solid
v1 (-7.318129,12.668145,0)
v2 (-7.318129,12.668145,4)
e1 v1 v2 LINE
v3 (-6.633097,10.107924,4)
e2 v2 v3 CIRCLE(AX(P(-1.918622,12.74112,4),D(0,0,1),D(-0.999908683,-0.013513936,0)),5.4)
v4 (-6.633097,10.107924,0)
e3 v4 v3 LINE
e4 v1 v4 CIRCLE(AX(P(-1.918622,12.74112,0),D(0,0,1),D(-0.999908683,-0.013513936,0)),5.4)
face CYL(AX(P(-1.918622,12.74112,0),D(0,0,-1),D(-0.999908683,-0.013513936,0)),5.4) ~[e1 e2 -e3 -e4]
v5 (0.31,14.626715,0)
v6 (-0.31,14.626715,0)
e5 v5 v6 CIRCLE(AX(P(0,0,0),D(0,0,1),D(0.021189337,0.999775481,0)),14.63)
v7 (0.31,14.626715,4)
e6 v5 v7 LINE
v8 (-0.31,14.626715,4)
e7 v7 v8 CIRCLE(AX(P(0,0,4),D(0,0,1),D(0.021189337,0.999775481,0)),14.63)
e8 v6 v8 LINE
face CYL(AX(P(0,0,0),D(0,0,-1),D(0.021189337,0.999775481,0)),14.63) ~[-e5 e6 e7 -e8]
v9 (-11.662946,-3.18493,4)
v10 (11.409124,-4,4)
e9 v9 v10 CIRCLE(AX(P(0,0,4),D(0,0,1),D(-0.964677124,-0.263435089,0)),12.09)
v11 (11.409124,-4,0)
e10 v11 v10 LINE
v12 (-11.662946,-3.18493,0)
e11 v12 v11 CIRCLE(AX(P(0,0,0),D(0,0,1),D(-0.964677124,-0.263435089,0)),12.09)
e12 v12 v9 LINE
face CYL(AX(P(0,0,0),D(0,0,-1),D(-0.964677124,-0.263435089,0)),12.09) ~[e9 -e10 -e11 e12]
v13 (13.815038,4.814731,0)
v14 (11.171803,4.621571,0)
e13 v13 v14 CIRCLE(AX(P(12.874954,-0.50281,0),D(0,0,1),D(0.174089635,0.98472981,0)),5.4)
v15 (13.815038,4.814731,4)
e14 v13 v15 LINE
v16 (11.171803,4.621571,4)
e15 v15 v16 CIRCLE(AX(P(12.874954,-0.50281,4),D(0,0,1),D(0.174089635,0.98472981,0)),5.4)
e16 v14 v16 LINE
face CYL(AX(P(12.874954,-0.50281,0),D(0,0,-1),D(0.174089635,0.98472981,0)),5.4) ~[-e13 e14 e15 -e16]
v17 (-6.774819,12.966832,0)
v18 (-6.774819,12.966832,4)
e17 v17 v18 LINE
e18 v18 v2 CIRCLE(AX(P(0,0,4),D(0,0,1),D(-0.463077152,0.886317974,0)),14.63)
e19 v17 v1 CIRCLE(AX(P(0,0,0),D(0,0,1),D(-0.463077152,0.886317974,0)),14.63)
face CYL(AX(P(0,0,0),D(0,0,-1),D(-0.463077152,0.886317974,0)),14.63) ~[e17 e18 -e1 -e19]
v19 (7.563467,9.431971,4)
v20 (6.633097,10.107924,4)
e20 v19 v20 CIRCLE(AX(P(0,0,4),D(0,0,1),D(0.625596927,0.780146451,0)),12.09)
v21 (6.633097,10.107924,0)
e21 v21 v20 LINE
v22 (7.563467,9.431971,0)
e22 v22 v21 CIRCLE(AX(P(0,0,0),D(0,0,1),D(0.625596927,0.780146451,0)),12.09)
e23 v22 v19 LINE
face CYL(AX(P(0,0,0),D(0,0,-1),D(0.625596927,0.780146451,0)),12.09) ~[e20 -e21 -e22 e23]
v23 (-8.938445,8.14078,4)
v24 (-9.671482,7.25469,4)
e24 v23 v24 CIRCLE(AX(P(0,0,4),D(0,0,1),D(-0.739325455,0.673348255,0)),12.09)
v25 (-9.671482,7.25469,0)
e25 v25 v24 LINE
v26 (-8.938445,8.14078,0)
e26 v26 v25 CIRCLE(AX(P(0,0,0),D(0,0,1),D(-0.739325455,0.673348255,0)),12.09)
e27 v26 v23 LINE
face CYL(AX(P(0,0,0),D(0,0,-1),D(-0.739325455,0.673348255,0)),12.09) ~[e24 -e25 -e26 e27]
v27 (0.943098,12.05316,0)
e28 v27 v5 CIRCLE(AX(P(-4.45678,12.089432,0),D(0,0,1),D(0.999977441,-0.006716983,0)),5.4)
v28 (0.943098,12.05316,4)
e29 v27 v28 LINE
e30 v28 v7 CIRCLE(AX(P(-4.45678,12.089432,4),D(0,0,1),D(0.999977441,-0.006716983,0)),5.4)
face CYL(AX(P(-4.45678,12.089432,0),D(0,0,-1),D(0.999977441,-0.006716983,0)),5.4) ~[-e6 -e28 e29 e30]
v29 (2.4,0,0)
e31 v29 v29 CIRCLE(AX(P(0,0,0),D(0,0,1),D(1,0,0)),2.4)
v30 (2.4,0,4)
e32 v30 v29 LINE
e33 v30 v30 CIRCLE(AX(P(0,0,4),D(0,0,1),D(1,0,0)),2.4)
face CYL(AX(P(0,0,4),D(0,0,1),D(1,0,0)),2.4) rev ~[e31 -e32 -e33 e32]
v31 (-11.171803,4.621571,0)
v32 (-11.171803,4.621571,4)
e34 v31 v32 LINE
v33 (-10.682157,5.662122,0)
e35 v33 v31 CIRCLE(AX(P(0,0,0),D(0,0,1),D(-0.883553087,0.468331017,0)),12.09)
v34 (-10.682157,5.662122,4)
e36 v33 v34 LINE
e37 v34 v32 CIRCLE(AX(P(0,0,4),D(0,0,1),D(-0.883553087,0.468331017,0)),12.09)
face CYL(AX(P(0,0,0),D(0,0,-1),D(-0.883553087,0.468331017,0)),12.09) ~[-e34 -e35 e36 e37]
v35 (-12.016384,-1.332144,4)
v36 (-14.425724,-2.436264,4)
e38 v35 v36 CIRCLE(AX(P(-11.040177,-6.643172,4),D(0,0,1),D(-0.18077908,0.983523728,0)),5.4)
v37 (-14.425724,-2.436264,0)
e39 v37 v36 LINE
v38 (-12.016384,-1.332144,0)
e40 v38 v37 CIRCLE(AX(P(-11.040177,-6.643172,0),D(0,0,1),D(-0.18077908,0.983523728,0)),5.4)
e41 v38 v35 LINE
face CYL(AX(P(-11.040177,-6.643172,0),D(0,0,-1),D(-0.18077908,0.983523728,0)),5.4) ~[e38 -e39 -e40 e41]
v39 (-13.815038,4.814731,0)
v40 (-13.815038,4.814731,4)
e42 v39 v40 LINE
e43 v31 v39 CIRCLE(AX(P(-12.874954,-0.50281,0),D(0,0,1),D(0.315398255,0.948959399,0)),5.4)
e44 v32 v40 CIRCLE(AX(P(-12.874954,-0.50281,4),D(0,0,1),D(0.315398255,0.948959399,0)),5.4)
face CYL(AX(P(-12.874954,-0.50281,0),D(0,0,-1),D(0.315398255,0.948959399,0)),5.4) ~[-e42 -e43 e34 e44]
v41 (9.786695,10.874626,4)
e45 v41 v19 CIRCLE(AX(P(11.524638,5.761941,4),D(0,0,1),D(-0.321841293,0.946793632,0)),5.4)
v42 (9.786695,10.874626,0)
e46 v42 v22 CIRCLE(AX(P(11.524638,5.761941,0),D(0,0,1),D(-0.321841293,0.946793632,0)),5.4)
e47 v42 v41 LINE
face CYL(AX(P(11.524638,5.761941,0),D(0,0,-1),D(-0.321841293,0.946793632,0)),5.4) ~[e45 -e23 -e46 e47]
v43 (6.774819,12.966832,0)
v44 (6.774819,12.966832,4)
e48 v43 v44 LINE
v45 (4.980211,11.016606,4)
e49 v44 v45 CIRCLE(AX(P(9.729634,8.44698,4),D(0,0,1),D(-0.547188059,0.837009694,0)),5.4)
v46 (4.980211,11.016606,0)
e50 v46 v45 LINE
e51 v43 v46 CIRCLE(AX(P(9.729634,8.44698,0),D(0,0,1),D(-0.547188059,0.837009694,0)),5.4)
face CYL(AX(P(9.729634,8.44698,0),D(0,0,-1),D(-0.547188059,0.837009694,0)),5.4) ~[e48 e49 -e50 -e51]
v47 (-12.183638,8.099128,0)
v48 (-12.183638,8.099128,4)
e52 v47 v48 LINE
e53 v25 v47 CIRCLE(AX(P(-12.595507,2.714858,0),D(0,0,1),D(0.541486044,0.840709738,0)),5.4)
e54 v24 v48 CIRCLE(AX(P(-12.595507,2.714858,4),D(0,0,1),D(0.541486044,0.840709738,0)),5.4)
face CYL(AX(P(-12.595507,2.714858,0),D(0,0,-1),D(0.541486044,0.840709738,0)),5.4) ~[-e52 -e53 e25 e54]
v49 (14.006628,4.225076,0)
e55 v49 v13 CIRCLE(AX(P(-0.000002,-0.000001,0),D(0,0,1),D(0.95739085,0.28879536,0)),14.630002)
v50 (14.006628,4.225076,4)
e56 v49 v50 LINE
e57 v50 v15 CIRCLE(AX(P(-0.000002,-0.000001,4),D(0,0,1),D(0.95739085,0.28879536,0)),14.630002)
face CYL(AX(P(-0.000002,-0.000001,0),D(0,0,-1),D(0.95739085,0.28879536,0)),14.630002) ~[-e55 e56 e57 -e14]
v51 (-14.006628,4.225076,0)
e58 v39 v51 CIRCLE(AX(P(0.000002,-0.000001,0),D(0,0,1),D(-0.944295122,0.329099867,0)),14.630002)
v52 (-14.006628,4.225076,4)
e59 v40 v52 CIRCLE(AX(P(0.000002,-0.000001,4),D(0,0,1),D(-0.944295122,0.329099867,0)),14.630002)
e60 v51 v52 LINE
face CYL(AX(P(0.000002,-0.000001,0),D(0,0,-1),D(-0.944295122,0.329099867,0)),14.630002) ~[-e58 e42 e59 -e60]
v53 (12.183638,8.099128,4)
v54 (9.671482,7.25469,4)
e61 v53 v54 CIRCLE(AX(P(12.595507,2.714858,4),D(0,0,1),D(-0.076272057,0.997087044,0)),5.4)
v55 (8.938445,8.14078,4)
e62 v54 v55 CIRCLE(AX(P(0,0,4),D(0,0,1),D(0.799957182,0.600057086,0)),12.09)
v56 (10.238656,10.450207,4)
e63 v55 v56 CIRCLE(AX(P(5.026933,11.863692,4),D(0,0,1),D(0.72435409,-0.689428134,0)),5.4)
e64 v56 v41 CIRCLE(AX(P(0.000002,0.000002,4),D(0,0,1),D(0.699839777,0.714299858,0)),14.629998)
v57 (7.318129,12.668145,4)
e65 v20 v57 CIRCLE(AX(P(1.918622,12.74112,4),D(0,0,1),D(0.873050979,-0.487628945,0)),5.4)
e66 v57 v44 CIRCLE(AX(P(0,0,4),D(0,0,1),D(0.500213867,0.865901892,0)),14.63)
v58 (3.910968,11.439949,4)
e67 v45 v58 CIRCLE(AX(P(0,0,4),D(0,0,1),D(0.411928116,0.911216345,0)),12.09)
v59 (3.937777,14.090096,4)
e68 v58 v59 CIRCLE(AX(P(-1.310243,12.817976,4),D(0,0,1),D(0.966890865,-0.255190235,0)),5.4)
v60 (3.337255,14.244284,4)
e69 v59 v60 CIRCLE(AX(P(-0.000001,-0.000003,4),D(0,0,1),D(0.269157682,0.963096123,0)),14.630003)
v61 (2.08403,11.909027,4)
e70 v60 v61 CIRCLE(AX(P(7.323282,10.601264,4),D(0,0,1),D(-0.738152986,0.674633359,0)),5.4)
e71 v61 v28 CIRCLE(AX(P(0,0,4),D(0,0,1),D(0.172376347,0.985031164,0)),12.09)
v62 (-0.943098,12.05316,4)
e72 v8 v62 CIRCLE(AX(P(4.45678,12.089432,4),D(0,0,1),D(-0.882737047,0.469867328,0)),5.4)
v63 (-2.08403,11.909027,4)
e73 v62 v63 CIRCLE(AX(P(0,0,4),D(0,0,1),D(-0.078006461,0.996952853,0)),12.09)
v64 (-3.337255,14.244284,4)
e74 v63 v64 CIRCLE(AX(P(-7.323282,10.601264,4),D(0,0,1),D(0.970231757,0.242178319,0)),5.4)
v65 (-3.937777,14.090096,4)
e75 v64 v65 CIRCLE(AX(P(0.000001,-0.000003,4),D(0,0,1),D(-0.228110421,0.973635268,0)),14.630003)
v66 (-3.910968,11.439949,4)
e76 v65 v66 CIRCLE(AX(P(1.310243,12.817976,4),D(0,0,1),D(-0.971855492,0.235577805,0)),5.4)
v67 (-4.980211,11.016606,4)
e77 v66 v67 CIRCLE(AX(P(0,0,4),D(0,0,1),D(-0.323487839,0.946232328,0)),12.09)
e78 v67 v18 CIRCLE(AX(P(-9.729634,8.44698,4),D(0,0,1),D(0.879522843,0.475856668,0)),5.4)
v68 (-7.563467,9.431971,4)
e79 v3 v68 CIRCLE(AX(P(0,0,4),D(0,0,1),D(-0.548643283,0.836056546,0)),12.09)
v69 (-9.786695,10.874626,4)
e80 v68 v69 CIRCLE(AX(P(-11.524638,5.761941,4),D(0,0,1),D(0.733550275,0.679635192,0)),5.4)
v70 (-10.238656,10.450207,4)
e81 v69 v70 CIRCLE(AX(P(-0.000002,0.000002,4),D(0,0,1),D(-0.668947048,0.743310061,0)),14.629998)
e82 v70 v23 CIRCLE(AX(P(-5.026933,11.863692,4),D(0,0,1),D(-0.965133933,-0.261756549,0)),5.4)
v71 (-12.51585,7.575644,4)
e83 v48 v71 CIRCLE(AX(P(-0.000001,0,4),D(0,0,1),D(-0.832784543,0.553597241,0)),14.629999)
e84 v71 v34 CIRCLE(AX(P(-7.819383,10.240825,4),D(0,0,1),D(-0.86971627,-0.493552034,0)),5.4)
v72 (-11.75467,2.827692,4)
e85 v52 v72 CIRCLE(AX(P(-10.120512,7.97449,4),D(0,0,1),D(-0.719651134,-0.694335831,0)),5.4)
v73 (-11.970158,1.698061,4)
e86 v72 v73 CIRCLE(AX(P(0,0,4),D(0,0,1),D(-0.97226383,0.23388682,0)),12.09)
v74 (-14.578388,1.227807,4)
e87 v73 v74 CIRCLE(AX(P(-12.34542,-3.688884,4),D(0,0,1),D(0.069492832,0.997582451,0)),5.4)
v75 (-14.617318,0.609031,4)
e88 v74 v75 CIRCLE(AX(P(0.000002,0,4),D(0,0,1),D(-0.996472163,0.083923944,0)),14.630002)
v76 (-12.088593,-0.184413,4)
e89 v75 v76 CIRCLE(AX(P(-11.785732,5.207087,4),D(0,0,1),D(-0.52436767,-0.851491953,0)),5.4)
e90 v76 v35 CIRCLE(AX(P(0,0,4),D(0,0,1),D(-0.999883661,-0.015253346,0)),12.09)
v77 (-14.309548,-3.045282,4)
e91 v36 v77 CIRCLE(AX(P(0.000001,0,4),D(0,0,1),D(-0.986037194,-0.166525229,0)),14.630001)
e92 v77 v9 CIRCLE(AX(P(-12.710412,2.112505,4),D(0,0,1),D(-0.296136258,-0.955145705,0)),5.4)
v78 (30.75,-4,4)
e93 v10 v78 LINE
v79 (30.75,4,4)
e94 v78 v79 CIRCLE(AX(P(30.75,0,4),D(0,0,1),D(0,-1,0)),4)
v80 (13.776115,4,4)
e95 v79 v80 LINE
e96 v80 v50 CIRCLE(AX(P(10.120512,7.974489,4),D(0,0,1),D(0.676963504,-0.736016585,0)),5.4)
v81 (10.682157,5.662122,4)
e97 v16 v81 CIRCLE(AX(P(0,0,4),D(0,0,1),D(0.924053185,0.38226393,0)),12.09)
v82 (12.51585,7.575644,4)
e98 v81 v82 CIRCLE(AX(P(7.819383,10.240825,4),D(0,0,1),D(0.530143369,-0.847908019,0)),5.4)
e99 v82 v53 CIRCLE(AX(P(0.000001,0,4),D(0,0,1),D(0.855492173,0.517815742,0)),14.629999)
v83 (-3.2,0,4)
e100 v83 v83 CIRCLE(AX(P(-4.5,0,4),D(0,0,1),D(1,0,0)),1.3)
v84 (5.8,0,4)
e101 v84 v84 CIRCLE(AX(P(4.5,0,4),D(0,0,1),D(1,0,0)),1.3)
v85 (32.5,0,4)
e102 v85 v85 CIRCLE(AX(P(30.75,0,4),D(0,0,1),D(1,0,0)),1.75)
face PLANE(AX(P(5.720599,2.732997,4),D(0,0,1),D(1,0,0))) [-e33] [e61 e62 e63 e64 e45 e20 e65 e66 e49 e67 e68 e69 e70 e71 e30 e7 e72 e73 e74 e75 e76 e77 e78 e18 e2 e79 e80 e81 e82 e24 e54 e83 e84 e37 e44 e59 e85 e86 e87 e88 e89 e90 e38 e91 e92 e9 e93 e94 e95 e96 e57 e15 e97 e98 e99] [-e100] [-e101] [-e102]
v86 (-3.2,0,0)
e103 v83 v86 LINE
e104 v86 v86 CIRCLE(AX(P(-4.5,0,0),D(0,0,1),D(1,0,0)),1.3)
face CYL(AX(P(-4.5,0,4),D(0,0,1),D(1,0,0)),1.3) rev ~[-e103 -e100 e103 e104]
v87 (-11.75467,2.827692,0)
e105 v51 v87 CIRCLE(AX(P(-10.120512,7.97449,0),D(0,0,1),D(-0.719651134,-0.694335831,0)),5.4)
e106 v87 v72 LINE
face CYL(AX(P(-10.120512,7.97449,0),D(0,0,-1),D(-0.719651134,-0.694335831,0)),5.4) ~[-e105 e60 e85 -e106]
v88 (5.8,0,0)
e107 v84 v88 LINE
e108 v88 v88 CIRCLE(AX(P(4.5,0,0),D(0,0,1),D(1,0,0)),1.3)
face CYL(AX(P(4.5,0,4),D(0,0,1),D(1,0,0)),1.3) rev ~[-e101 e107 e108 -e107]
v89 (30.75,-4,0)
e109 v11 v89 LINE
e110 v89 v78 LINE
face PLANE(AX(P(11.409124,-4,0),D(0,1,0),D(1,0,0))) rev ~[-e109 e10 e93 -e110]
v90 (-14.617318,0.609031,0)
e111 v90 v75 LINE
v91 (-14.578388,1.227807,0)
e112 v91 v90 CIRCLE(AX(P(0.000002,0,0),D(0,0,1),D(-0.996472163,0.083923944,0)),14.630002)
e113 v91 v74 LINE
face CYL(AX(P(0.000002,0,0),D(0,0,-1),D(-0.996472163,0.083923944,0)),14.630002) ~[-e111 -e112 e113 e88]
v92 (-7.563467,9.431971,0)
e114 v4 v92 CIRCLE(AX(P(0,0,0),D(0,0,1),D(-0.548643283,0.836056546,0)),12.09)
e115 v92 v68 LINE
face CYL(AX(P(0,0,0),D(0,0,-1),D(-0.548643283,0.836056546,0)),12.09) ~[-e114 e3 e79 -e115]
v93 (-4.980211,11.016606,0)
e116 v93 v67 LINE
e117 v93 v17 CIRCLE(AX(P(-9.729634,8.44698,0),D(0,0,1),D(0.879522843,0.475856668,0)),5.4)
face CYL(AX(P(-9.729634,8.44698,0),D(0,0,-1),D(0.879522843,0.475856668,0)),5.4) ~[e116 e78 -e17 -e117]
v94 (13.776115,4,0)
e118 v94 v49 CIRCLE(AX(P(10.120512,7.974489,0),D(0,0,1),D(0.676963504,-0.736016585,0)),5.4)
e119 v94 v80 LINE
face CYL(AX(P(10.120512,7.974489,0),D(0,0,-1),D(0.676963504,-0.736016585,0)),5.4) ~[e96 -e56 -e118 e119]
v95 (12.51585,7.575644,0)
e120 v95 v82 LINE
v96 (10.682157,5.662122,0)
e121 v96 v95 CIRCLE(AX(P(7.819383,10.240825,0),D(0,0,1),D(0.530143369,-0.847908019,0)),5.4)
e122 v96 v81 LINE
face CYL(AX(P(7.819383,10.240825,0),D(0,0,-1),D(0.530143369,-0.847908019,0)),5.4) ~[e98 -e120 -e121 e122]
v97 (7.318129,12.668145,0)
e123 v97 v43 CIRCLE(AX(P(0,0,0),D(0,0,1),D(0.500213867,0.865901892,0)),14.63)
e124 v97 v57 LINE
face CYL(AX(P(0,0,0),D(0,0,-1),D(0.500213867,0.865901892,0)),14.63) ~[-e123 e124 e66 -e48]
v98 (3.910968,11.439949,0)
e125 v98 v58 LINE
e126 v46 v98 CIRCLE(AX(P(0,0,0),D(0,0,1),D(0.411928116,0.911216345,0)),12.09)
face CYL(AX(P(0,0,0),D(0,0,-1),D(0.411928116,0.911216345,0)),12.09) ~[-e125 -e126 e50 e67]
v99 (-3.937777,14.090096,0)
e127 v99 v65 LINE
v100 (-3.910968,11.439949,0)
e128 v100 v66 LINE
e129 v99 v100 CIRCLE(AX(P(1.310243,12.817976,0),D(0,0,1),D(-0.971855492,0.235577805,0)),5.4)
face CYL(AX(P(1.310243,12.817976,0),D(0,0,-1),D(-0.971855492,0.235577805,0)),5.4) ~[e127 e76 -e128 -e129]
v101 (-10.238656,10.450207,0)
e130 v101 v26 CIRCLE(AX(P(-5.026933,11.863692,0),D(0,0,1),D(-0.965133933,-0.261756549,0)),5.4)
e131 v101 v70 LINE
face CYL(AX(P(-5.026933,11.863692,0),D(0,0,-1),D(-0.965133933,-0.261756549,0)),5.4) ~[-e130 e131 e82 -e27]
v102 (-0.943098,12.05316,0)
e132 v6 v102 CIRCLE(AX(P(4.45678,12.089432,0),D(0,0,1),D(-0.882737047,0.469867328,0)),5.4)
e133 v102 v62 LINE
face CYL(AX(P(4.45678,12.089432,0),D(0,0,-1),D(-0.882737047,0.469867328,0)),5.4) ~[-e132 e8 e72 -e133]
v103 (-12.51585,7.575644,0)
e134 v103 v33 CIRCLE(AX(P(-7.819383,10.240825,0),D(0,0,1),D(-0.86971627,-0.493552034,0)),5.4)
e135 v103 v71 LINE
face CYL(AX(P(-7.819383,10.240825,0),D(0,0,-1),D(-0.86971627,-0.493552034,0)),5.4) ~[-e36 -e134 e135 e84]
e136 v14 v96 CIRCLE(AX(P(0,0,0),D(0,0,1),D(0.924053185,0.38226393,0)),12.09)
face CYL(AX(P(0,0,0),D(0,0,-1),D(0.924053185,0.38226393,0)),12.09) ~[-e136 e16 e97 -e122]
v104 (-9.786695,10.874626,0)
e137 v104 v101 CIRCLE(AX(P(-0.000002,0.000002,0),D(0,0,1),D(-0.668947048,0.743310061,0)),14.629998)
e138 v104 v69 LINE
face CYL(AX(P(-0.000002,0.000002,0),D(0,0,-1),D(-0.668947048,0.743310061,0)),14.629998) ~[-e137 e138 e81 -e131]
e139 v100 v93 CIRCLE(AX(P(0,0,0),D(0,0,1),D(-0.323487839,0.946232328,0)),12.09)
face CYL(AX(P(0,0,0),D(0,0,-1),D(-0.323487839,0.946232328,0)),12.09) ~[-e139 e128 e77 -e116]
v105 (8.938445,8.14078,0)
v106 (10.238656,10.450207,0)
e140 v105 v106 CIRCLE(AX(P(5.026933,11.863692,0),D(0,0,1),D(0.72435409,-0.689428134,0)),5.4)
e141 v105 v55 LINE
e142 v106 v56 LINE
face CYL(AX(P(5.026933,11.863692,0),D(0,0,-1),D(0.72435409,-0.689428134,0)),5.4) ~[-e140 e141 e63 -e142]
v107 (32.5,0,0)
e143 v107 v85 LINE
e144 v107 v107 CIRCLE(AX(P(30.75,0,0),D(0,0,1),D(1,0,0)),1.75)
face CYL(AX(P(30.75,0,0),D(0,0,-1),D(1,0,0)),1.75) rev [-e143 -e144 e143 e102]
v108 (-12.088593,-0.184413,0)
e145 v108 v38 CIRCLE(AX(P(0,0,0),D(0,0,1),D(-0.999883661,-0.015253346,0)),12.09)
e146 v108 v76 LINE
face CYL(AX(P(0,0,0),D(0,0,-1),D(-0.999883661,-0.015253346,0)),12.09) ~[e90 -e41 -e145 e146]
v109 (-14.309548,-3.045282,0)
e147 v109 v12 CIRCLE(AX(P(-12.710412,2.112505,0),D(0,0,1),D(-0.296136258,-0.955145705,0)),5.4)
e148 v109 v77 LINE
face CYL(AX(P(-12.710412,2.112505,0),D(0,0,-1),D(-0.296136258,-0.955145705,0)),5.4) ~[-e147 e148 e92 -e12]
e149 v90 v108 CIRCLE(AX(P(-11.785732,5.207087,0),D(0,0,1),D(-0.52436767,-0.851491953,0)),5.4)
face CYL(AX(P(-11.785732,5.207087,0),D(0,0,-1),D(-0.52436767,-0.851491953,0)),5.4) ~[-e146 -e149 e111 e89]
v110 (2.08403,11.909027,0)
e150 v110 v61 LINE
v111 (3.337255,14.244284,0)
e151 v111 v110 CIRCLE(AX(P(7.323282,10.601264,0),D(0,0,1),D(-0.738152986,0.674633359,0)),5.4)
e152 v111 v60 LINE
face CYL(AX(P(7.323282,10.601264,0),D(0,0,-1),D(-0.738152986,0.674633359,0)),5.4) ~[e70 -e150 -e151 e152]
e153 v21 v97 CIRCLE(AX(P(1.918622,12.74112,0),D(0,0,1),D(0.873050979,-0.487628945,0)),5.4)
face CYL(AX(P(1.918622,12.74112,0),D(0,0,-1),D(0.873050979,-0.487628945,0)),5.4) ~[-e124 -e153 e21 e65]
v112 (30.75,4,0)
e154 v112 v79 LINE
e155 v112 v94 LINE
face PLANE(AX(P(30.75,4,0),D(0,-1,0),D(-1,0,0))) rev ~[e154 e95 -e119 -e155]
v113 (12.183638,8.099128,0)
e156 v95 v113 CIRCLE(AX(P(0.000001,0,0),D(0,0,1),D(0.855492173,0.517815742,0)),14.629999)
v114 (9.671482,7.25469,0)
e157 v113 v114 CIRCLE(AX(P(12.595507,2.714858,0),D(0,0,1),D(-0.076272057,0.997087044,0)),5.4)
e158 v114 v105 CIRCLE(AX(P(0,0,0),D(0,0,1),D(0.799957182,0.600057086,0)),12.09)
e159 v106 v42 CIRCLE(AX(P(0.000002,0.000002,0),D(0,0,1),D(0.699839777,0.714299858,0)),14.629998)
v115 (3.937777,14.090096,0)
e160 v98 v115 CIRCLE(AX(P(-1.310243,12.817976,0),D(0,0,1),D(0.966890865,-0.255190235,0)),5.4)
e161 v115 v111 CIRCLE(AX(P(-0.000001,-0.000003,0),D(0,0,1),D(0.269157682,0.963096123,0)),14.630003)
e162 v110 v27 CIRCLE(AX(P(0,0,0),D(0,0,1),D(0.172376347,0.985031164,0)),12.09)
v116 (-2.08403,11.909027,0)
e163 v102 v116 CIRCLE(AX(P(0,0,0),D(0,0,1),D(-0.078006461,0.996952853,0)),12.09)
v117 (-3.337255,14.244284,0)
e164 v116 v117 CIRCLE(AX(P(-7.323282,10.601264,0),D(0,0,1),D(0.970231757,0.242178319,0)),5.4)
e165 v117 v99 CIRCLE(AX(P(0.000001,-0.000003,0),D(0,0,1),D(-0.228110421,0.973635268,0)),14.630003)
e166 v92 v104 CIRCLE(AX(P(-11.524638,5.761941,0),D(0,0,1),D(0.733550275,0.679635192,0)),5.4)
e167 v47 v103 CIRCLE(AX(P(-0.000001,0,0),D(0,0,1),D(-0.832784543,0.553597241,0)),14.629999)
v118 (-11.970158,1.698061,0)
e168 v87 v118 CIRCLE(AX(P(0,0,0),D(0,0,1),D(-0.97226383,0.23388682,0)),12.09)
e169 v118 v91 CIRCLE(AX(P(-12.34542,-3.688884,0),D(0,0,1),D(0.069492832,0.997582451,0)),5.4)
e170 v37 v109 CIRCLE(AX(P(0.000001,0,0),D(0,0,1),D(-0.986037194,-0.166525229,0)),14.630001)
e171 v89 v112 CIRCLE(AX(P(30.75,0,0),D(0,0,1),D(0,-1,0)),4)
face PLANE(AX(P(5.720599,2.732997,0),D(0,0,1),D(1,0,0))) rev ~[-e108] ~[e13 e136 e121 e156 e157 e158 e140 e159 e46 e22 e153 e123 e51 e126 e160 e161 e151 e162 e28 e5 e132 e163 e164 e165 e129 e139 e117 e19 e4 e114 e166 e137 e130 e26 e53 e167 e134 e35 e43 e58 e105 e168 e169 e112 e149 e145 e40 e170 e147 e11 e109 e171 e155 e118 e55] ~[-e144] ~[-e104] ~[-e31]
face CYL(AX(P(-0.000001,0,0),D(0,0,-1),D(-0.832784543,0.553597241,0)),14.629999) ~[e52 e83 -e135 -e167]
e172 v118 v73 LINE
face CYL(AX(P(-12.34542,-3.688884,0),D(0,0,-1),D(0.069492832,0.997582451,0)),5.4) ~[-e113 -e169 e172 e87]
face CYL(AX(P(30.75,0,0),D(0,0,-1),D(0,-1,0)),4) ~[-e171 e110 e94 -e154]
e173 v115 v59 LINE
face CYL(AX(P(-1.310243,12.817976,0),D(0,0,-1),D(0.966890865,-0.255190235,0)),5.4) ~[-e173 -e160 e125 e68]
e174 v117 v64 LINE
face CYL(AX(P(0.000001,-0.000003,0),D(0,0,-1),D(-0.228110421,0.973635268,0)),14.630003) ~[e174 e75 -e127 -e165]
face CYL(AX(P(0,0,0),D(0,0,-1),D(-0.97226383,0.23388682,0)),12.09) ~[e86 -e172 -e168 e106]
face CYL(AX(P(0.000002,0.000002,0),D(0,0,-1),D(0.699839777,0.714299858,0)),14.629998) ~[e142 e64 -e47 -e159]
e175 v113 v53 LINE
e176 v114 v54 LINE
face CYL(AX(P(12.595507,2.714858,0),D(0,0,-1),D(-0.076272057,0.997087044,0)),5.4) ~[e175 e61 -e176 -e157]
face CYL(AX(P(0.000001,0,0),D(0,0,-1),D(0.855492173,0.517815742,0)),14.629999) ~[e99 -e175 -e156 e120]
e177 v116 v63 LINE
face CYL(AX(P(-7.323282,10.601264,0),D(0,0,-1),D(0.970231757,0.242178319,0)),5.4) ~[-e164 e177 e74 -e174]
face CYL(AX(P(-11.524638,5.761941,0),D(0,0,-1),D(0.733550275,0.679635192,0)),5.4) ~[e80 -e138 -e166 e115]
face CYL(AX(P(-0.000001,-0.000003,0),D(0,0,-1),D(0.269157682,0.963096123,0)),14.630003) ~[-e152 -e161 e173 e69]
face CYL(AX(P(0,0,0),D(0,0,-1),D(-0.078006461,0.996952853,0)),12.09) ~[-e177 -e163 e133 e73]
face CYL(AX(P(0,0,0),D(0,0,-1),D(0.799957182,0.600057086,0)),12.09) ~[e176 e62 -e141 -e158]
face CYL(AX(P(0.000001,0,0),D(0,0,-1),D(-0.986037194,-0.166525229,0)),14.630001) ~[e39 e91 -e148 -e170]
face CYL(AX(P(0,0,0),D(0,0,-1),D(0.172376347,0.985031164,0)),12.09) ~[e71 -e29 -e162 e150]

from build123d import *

# Parameters (mm, degrees)
SKETCH1_R           = 1.75
BOSS_EXTRUDE1_DEPTH = 4
SKETCH2_R           = 1.3
SKETCH2_R_2         = 2.4
CUT_EXTRUDE1_DEPTH  = 20


with BuildPart() as part:
    # Sketch1 → Boss-Extrude1 (new body)
    with BuildSketch(Plane.XY):
        with BuildLine():
            ThreePointArc((13.776114953, 4), (13.893050478, 4.110818553), (14.006628151, 4.225076075))
            ThreePointArc((14.006628151, 4.225076075), (13.913956833, 4.520918628), (13.815037615, 4.814731115))
            ThreePointArc((13.815037615, 4.814731115), (12.481386111, 4.882828881), (11.171803009, 4.621570895))
            ThreePointArc((11.171803009, 4.621570895), (10.939359064, 5.147671635), (10.682156823, 5.662122005))
            ThreePointArc((10.682156823, 5.662122005), (11.718219248, 6.50464102), (12.515850479, 7.575644315))
            ThreePointArc((12.515850479, 7.575644315), (12.35251755, 7.839146011), (12.183637866, 8.099127629))
            ThreePointArc((12.183637866, 8.099127629), (10.874950252, 7.833420336), (9.671482329, 7.254690176))
            ThreePointArc((9.671482329, 7.254690176), (9.315505105, 7.706456036), (8.938444741, 8.140780406))
            ThreePointArc((8.938444741, 8.140780406), (9.7324314, 9.214488384), (10.238655891, 10.450206961))
            ThreePointArc((10.238655891, 10.450206961), (10.01492416, 10.664811019), (9.786695342, 10.874626167))
            ThreePointArc((9.786695342, 10.874626167), (8.585201272, 10.291809183), (7.563466846, 9.431970593))
            ThreePointArc((7.563466846, 9.431970593), (7.1063237, 9.781015462), (6.633097302, 10.107923633))
            ThreePointArc((6.633097302, 10.107923633), (7.135119095, 11.345355554), (7.318128899, 12.668144672))
            ThreePointArc((7.318128899, 12.668144672), (7.048056252, 12.820366729), (6.774818757, 12.966831949))
            ThreePointArc((6.774818757, 12.966831949), (5.756012523, 12.103525808), (4.980210924, 11.016605609))
            ThreePointArc((4.980210924, 11.016605609), (4.450625842, 11.240997714), (3.910967965, 11.439948845))
            ThreePointArc((3.910967965, 11.439948845), (4.089481015, 12.763352309), (3.937776954, 14.090096262))
            ThreePointArc((3.937776954, 14.090096262), (3.638333049, 14.170371647), (3.337255394, 14.244283992))
            ThreePointArc((3.337255394, 14.244283992), (2.565152337, 13.154733392), (2.084030034, 11.909026779))
            ThreePointArc((2.084030034, 11.909026779), (1.515278794, 11.994666739), (0.943098128, 12.053159997))
            ThreePointArc((0.943098128, 12.053159997), (0.786885803, 13.379380698), (0.31, 14.626715284))
            ThreePointArc((0.31, 14.626715284), (0, 14.63), (-0.31, 14.626715284))
            ThreePointArc((-0.31, 14.626715284), (-0.786885803, 13.379380698), (-0.943098128, 12.053159997))
            ThreePointArc((-0.943098128, 12.053159997), (-1.515278794, 11.994666739), (-2.084030034, 11.909026779))
            ThreePointArc((-2.084030034, 11.909026779), (-2.565152337, 13.154733392), (-3.337255394, 14.244283992))
            ThreePointArc((-3.337255394, 14.244283992), (-3.638333049, 14.170371647), (-3.937776954, 14.090096262))
            ThreePointArc((-3.937776954, 14.090096262), (-4.089481015, 12.763352309), (-3.910967965, 11.439948845))
            ThreePointArc((-3.910967965, 11.439948845), (-4.450625842, 11.240997714), (-4.980210924, 11.016605609))
            ThreePointArc((-4.980210924, 11.016605609), (-5.756012523, 12.103525808), (-6.774818757, 12.966831949))
            ThreePointArc((-6.774818757, 12.966831949), (-7.048056252, 12.820366729), (-7.318128899, 12.668144672))
            ThreePointArc((-7.318128899, 12.668144672), (-7.135119095, 11.345355554), (-6.633097302, 10.107923633))
            ThreePointArc((-6.633097302, 10.107923633), (-7.1063237, 9.781015462), (-7.563466846, 9.431970593))
            ThreePointArc((-7.563466846, 9.431970593), (-8.585201272, 10.291809183), (-9.786695342, 10.874626167))
            ThreePointArc((-9.786695342, 10.874626167), (-10.01492416, 10.664811019), (-10.238655891, 10.450206961))
            ThreePointArc((-10.238655891, 10.450206961), (-9.7324314, 9.214488384), (-8.938444741, 8.140780406))
            ThreePointArc((-8.938444741, 8.140780406), (-9.315505105, 7.706456036), (-9.671482329, 7.254690176))
            ThreePointArc((-9.671482329, 7.254690176), (-10.874950252, 7.833420336), (-12.183637866, 8.099127629))
            ThreePointArc((-12.183637866, 8.099127629), (-12.35251755, 7.839146011), (-12.515850479, 7.575644315))
            ThreePointArc((-12.515850479, 7.575644315), (-11.718219248, 6.50464102), (-10.682156823, 5.662122005))
            ThreePointArc((-10.682156823, 5.662122005), (-10.939359064, 5.147671635), (-11.171803009, 4.621570895))
            ThreePointArc((-11.171803009, 4.621570895), (-12.481386111, 4.882828881), (-13.815037615, 4.814731115))
            ThreePointArc((-13.815037615, 4.814731115), (-13.913956833, 4.520918628), (-14.006628151, 4.225076075))
            ThreePointArc((-14.006628151, 4.225076075), (-12.967708283, 3.386083139), (-11.754669706, 2.827691655))
            ThreePointArc((-11.754669706, 2.827691655), (-11.875852861, 2.265440093), (-11.970158218, 1.698061317))
            ThreePointArc((-11.970158218, 1.698061317), (-13.303570578, 1.625431329), (-14.578387742, 1.227807338))
            ThreePointArc((-14.578387742, 1.227807338), (-14.601131037, 0.918625301), (-14.617317864, 0.609030766))
            ThreePointArc((-14.617317864, 0.609030766), (-13.402388515, 0.054765201), (-12.088593461, -0.184412961))
            ThreePointArc((-12.088593461, -0.184412961), (-12.066143147, -0.759137381), (-12.016384363, -1.332143698))
            ThreePointArc((-12.016384363, -1.332143698), (-13.289842779, -1.734098051), (-14.425724151, -2.43626409))
            ThreePointArc((-14.425724151, -2.43626409), (-14.370862478, -2.741388632), (-14.309547736, -3.045282186))
            ThreePointArc((-14.309547736, -3.045282186), (-12.994947386, -3.279993836), (-11.662946429, -3.184930232))
            ThreePointArc((-11.662946429, -3.184930232), (-0.426838607, -12.082462862), (11.409123542, -4))
            Line((11.409123542, -4), (30.75, -4))
            ThreePointArc((30.75, -4), (34.75, 0), (30.75, 4))
            Line((30.75, 4), (13.776114953, 4))
        make_face()
        Circle(SKETCH1_R, mode=Mode.SUBTRACT)
        with Locations((30.75, 0)):
            Circle(SKETCH1_R, mode=Mode.SUBTRACT)
    extrude(amount=BOSS_EXTRUDE1_DEPTH)

    # Sketch2 → Cut-Extrude1 (cut)
    with BuildSketch(Plane.XY.offset(4)):
        with Locations((4.5, 0)):
            Circle(SKETCH2_R)
        with Locations((-4.5, 0)):
            Circle(SKETCH2_R)
        Circle(SKETCH2_R_2)
    extrude(amount=-CUT_EXTRUDE1_DEPTH, mode=Mode.SUBTRACT)


solid = part.part
